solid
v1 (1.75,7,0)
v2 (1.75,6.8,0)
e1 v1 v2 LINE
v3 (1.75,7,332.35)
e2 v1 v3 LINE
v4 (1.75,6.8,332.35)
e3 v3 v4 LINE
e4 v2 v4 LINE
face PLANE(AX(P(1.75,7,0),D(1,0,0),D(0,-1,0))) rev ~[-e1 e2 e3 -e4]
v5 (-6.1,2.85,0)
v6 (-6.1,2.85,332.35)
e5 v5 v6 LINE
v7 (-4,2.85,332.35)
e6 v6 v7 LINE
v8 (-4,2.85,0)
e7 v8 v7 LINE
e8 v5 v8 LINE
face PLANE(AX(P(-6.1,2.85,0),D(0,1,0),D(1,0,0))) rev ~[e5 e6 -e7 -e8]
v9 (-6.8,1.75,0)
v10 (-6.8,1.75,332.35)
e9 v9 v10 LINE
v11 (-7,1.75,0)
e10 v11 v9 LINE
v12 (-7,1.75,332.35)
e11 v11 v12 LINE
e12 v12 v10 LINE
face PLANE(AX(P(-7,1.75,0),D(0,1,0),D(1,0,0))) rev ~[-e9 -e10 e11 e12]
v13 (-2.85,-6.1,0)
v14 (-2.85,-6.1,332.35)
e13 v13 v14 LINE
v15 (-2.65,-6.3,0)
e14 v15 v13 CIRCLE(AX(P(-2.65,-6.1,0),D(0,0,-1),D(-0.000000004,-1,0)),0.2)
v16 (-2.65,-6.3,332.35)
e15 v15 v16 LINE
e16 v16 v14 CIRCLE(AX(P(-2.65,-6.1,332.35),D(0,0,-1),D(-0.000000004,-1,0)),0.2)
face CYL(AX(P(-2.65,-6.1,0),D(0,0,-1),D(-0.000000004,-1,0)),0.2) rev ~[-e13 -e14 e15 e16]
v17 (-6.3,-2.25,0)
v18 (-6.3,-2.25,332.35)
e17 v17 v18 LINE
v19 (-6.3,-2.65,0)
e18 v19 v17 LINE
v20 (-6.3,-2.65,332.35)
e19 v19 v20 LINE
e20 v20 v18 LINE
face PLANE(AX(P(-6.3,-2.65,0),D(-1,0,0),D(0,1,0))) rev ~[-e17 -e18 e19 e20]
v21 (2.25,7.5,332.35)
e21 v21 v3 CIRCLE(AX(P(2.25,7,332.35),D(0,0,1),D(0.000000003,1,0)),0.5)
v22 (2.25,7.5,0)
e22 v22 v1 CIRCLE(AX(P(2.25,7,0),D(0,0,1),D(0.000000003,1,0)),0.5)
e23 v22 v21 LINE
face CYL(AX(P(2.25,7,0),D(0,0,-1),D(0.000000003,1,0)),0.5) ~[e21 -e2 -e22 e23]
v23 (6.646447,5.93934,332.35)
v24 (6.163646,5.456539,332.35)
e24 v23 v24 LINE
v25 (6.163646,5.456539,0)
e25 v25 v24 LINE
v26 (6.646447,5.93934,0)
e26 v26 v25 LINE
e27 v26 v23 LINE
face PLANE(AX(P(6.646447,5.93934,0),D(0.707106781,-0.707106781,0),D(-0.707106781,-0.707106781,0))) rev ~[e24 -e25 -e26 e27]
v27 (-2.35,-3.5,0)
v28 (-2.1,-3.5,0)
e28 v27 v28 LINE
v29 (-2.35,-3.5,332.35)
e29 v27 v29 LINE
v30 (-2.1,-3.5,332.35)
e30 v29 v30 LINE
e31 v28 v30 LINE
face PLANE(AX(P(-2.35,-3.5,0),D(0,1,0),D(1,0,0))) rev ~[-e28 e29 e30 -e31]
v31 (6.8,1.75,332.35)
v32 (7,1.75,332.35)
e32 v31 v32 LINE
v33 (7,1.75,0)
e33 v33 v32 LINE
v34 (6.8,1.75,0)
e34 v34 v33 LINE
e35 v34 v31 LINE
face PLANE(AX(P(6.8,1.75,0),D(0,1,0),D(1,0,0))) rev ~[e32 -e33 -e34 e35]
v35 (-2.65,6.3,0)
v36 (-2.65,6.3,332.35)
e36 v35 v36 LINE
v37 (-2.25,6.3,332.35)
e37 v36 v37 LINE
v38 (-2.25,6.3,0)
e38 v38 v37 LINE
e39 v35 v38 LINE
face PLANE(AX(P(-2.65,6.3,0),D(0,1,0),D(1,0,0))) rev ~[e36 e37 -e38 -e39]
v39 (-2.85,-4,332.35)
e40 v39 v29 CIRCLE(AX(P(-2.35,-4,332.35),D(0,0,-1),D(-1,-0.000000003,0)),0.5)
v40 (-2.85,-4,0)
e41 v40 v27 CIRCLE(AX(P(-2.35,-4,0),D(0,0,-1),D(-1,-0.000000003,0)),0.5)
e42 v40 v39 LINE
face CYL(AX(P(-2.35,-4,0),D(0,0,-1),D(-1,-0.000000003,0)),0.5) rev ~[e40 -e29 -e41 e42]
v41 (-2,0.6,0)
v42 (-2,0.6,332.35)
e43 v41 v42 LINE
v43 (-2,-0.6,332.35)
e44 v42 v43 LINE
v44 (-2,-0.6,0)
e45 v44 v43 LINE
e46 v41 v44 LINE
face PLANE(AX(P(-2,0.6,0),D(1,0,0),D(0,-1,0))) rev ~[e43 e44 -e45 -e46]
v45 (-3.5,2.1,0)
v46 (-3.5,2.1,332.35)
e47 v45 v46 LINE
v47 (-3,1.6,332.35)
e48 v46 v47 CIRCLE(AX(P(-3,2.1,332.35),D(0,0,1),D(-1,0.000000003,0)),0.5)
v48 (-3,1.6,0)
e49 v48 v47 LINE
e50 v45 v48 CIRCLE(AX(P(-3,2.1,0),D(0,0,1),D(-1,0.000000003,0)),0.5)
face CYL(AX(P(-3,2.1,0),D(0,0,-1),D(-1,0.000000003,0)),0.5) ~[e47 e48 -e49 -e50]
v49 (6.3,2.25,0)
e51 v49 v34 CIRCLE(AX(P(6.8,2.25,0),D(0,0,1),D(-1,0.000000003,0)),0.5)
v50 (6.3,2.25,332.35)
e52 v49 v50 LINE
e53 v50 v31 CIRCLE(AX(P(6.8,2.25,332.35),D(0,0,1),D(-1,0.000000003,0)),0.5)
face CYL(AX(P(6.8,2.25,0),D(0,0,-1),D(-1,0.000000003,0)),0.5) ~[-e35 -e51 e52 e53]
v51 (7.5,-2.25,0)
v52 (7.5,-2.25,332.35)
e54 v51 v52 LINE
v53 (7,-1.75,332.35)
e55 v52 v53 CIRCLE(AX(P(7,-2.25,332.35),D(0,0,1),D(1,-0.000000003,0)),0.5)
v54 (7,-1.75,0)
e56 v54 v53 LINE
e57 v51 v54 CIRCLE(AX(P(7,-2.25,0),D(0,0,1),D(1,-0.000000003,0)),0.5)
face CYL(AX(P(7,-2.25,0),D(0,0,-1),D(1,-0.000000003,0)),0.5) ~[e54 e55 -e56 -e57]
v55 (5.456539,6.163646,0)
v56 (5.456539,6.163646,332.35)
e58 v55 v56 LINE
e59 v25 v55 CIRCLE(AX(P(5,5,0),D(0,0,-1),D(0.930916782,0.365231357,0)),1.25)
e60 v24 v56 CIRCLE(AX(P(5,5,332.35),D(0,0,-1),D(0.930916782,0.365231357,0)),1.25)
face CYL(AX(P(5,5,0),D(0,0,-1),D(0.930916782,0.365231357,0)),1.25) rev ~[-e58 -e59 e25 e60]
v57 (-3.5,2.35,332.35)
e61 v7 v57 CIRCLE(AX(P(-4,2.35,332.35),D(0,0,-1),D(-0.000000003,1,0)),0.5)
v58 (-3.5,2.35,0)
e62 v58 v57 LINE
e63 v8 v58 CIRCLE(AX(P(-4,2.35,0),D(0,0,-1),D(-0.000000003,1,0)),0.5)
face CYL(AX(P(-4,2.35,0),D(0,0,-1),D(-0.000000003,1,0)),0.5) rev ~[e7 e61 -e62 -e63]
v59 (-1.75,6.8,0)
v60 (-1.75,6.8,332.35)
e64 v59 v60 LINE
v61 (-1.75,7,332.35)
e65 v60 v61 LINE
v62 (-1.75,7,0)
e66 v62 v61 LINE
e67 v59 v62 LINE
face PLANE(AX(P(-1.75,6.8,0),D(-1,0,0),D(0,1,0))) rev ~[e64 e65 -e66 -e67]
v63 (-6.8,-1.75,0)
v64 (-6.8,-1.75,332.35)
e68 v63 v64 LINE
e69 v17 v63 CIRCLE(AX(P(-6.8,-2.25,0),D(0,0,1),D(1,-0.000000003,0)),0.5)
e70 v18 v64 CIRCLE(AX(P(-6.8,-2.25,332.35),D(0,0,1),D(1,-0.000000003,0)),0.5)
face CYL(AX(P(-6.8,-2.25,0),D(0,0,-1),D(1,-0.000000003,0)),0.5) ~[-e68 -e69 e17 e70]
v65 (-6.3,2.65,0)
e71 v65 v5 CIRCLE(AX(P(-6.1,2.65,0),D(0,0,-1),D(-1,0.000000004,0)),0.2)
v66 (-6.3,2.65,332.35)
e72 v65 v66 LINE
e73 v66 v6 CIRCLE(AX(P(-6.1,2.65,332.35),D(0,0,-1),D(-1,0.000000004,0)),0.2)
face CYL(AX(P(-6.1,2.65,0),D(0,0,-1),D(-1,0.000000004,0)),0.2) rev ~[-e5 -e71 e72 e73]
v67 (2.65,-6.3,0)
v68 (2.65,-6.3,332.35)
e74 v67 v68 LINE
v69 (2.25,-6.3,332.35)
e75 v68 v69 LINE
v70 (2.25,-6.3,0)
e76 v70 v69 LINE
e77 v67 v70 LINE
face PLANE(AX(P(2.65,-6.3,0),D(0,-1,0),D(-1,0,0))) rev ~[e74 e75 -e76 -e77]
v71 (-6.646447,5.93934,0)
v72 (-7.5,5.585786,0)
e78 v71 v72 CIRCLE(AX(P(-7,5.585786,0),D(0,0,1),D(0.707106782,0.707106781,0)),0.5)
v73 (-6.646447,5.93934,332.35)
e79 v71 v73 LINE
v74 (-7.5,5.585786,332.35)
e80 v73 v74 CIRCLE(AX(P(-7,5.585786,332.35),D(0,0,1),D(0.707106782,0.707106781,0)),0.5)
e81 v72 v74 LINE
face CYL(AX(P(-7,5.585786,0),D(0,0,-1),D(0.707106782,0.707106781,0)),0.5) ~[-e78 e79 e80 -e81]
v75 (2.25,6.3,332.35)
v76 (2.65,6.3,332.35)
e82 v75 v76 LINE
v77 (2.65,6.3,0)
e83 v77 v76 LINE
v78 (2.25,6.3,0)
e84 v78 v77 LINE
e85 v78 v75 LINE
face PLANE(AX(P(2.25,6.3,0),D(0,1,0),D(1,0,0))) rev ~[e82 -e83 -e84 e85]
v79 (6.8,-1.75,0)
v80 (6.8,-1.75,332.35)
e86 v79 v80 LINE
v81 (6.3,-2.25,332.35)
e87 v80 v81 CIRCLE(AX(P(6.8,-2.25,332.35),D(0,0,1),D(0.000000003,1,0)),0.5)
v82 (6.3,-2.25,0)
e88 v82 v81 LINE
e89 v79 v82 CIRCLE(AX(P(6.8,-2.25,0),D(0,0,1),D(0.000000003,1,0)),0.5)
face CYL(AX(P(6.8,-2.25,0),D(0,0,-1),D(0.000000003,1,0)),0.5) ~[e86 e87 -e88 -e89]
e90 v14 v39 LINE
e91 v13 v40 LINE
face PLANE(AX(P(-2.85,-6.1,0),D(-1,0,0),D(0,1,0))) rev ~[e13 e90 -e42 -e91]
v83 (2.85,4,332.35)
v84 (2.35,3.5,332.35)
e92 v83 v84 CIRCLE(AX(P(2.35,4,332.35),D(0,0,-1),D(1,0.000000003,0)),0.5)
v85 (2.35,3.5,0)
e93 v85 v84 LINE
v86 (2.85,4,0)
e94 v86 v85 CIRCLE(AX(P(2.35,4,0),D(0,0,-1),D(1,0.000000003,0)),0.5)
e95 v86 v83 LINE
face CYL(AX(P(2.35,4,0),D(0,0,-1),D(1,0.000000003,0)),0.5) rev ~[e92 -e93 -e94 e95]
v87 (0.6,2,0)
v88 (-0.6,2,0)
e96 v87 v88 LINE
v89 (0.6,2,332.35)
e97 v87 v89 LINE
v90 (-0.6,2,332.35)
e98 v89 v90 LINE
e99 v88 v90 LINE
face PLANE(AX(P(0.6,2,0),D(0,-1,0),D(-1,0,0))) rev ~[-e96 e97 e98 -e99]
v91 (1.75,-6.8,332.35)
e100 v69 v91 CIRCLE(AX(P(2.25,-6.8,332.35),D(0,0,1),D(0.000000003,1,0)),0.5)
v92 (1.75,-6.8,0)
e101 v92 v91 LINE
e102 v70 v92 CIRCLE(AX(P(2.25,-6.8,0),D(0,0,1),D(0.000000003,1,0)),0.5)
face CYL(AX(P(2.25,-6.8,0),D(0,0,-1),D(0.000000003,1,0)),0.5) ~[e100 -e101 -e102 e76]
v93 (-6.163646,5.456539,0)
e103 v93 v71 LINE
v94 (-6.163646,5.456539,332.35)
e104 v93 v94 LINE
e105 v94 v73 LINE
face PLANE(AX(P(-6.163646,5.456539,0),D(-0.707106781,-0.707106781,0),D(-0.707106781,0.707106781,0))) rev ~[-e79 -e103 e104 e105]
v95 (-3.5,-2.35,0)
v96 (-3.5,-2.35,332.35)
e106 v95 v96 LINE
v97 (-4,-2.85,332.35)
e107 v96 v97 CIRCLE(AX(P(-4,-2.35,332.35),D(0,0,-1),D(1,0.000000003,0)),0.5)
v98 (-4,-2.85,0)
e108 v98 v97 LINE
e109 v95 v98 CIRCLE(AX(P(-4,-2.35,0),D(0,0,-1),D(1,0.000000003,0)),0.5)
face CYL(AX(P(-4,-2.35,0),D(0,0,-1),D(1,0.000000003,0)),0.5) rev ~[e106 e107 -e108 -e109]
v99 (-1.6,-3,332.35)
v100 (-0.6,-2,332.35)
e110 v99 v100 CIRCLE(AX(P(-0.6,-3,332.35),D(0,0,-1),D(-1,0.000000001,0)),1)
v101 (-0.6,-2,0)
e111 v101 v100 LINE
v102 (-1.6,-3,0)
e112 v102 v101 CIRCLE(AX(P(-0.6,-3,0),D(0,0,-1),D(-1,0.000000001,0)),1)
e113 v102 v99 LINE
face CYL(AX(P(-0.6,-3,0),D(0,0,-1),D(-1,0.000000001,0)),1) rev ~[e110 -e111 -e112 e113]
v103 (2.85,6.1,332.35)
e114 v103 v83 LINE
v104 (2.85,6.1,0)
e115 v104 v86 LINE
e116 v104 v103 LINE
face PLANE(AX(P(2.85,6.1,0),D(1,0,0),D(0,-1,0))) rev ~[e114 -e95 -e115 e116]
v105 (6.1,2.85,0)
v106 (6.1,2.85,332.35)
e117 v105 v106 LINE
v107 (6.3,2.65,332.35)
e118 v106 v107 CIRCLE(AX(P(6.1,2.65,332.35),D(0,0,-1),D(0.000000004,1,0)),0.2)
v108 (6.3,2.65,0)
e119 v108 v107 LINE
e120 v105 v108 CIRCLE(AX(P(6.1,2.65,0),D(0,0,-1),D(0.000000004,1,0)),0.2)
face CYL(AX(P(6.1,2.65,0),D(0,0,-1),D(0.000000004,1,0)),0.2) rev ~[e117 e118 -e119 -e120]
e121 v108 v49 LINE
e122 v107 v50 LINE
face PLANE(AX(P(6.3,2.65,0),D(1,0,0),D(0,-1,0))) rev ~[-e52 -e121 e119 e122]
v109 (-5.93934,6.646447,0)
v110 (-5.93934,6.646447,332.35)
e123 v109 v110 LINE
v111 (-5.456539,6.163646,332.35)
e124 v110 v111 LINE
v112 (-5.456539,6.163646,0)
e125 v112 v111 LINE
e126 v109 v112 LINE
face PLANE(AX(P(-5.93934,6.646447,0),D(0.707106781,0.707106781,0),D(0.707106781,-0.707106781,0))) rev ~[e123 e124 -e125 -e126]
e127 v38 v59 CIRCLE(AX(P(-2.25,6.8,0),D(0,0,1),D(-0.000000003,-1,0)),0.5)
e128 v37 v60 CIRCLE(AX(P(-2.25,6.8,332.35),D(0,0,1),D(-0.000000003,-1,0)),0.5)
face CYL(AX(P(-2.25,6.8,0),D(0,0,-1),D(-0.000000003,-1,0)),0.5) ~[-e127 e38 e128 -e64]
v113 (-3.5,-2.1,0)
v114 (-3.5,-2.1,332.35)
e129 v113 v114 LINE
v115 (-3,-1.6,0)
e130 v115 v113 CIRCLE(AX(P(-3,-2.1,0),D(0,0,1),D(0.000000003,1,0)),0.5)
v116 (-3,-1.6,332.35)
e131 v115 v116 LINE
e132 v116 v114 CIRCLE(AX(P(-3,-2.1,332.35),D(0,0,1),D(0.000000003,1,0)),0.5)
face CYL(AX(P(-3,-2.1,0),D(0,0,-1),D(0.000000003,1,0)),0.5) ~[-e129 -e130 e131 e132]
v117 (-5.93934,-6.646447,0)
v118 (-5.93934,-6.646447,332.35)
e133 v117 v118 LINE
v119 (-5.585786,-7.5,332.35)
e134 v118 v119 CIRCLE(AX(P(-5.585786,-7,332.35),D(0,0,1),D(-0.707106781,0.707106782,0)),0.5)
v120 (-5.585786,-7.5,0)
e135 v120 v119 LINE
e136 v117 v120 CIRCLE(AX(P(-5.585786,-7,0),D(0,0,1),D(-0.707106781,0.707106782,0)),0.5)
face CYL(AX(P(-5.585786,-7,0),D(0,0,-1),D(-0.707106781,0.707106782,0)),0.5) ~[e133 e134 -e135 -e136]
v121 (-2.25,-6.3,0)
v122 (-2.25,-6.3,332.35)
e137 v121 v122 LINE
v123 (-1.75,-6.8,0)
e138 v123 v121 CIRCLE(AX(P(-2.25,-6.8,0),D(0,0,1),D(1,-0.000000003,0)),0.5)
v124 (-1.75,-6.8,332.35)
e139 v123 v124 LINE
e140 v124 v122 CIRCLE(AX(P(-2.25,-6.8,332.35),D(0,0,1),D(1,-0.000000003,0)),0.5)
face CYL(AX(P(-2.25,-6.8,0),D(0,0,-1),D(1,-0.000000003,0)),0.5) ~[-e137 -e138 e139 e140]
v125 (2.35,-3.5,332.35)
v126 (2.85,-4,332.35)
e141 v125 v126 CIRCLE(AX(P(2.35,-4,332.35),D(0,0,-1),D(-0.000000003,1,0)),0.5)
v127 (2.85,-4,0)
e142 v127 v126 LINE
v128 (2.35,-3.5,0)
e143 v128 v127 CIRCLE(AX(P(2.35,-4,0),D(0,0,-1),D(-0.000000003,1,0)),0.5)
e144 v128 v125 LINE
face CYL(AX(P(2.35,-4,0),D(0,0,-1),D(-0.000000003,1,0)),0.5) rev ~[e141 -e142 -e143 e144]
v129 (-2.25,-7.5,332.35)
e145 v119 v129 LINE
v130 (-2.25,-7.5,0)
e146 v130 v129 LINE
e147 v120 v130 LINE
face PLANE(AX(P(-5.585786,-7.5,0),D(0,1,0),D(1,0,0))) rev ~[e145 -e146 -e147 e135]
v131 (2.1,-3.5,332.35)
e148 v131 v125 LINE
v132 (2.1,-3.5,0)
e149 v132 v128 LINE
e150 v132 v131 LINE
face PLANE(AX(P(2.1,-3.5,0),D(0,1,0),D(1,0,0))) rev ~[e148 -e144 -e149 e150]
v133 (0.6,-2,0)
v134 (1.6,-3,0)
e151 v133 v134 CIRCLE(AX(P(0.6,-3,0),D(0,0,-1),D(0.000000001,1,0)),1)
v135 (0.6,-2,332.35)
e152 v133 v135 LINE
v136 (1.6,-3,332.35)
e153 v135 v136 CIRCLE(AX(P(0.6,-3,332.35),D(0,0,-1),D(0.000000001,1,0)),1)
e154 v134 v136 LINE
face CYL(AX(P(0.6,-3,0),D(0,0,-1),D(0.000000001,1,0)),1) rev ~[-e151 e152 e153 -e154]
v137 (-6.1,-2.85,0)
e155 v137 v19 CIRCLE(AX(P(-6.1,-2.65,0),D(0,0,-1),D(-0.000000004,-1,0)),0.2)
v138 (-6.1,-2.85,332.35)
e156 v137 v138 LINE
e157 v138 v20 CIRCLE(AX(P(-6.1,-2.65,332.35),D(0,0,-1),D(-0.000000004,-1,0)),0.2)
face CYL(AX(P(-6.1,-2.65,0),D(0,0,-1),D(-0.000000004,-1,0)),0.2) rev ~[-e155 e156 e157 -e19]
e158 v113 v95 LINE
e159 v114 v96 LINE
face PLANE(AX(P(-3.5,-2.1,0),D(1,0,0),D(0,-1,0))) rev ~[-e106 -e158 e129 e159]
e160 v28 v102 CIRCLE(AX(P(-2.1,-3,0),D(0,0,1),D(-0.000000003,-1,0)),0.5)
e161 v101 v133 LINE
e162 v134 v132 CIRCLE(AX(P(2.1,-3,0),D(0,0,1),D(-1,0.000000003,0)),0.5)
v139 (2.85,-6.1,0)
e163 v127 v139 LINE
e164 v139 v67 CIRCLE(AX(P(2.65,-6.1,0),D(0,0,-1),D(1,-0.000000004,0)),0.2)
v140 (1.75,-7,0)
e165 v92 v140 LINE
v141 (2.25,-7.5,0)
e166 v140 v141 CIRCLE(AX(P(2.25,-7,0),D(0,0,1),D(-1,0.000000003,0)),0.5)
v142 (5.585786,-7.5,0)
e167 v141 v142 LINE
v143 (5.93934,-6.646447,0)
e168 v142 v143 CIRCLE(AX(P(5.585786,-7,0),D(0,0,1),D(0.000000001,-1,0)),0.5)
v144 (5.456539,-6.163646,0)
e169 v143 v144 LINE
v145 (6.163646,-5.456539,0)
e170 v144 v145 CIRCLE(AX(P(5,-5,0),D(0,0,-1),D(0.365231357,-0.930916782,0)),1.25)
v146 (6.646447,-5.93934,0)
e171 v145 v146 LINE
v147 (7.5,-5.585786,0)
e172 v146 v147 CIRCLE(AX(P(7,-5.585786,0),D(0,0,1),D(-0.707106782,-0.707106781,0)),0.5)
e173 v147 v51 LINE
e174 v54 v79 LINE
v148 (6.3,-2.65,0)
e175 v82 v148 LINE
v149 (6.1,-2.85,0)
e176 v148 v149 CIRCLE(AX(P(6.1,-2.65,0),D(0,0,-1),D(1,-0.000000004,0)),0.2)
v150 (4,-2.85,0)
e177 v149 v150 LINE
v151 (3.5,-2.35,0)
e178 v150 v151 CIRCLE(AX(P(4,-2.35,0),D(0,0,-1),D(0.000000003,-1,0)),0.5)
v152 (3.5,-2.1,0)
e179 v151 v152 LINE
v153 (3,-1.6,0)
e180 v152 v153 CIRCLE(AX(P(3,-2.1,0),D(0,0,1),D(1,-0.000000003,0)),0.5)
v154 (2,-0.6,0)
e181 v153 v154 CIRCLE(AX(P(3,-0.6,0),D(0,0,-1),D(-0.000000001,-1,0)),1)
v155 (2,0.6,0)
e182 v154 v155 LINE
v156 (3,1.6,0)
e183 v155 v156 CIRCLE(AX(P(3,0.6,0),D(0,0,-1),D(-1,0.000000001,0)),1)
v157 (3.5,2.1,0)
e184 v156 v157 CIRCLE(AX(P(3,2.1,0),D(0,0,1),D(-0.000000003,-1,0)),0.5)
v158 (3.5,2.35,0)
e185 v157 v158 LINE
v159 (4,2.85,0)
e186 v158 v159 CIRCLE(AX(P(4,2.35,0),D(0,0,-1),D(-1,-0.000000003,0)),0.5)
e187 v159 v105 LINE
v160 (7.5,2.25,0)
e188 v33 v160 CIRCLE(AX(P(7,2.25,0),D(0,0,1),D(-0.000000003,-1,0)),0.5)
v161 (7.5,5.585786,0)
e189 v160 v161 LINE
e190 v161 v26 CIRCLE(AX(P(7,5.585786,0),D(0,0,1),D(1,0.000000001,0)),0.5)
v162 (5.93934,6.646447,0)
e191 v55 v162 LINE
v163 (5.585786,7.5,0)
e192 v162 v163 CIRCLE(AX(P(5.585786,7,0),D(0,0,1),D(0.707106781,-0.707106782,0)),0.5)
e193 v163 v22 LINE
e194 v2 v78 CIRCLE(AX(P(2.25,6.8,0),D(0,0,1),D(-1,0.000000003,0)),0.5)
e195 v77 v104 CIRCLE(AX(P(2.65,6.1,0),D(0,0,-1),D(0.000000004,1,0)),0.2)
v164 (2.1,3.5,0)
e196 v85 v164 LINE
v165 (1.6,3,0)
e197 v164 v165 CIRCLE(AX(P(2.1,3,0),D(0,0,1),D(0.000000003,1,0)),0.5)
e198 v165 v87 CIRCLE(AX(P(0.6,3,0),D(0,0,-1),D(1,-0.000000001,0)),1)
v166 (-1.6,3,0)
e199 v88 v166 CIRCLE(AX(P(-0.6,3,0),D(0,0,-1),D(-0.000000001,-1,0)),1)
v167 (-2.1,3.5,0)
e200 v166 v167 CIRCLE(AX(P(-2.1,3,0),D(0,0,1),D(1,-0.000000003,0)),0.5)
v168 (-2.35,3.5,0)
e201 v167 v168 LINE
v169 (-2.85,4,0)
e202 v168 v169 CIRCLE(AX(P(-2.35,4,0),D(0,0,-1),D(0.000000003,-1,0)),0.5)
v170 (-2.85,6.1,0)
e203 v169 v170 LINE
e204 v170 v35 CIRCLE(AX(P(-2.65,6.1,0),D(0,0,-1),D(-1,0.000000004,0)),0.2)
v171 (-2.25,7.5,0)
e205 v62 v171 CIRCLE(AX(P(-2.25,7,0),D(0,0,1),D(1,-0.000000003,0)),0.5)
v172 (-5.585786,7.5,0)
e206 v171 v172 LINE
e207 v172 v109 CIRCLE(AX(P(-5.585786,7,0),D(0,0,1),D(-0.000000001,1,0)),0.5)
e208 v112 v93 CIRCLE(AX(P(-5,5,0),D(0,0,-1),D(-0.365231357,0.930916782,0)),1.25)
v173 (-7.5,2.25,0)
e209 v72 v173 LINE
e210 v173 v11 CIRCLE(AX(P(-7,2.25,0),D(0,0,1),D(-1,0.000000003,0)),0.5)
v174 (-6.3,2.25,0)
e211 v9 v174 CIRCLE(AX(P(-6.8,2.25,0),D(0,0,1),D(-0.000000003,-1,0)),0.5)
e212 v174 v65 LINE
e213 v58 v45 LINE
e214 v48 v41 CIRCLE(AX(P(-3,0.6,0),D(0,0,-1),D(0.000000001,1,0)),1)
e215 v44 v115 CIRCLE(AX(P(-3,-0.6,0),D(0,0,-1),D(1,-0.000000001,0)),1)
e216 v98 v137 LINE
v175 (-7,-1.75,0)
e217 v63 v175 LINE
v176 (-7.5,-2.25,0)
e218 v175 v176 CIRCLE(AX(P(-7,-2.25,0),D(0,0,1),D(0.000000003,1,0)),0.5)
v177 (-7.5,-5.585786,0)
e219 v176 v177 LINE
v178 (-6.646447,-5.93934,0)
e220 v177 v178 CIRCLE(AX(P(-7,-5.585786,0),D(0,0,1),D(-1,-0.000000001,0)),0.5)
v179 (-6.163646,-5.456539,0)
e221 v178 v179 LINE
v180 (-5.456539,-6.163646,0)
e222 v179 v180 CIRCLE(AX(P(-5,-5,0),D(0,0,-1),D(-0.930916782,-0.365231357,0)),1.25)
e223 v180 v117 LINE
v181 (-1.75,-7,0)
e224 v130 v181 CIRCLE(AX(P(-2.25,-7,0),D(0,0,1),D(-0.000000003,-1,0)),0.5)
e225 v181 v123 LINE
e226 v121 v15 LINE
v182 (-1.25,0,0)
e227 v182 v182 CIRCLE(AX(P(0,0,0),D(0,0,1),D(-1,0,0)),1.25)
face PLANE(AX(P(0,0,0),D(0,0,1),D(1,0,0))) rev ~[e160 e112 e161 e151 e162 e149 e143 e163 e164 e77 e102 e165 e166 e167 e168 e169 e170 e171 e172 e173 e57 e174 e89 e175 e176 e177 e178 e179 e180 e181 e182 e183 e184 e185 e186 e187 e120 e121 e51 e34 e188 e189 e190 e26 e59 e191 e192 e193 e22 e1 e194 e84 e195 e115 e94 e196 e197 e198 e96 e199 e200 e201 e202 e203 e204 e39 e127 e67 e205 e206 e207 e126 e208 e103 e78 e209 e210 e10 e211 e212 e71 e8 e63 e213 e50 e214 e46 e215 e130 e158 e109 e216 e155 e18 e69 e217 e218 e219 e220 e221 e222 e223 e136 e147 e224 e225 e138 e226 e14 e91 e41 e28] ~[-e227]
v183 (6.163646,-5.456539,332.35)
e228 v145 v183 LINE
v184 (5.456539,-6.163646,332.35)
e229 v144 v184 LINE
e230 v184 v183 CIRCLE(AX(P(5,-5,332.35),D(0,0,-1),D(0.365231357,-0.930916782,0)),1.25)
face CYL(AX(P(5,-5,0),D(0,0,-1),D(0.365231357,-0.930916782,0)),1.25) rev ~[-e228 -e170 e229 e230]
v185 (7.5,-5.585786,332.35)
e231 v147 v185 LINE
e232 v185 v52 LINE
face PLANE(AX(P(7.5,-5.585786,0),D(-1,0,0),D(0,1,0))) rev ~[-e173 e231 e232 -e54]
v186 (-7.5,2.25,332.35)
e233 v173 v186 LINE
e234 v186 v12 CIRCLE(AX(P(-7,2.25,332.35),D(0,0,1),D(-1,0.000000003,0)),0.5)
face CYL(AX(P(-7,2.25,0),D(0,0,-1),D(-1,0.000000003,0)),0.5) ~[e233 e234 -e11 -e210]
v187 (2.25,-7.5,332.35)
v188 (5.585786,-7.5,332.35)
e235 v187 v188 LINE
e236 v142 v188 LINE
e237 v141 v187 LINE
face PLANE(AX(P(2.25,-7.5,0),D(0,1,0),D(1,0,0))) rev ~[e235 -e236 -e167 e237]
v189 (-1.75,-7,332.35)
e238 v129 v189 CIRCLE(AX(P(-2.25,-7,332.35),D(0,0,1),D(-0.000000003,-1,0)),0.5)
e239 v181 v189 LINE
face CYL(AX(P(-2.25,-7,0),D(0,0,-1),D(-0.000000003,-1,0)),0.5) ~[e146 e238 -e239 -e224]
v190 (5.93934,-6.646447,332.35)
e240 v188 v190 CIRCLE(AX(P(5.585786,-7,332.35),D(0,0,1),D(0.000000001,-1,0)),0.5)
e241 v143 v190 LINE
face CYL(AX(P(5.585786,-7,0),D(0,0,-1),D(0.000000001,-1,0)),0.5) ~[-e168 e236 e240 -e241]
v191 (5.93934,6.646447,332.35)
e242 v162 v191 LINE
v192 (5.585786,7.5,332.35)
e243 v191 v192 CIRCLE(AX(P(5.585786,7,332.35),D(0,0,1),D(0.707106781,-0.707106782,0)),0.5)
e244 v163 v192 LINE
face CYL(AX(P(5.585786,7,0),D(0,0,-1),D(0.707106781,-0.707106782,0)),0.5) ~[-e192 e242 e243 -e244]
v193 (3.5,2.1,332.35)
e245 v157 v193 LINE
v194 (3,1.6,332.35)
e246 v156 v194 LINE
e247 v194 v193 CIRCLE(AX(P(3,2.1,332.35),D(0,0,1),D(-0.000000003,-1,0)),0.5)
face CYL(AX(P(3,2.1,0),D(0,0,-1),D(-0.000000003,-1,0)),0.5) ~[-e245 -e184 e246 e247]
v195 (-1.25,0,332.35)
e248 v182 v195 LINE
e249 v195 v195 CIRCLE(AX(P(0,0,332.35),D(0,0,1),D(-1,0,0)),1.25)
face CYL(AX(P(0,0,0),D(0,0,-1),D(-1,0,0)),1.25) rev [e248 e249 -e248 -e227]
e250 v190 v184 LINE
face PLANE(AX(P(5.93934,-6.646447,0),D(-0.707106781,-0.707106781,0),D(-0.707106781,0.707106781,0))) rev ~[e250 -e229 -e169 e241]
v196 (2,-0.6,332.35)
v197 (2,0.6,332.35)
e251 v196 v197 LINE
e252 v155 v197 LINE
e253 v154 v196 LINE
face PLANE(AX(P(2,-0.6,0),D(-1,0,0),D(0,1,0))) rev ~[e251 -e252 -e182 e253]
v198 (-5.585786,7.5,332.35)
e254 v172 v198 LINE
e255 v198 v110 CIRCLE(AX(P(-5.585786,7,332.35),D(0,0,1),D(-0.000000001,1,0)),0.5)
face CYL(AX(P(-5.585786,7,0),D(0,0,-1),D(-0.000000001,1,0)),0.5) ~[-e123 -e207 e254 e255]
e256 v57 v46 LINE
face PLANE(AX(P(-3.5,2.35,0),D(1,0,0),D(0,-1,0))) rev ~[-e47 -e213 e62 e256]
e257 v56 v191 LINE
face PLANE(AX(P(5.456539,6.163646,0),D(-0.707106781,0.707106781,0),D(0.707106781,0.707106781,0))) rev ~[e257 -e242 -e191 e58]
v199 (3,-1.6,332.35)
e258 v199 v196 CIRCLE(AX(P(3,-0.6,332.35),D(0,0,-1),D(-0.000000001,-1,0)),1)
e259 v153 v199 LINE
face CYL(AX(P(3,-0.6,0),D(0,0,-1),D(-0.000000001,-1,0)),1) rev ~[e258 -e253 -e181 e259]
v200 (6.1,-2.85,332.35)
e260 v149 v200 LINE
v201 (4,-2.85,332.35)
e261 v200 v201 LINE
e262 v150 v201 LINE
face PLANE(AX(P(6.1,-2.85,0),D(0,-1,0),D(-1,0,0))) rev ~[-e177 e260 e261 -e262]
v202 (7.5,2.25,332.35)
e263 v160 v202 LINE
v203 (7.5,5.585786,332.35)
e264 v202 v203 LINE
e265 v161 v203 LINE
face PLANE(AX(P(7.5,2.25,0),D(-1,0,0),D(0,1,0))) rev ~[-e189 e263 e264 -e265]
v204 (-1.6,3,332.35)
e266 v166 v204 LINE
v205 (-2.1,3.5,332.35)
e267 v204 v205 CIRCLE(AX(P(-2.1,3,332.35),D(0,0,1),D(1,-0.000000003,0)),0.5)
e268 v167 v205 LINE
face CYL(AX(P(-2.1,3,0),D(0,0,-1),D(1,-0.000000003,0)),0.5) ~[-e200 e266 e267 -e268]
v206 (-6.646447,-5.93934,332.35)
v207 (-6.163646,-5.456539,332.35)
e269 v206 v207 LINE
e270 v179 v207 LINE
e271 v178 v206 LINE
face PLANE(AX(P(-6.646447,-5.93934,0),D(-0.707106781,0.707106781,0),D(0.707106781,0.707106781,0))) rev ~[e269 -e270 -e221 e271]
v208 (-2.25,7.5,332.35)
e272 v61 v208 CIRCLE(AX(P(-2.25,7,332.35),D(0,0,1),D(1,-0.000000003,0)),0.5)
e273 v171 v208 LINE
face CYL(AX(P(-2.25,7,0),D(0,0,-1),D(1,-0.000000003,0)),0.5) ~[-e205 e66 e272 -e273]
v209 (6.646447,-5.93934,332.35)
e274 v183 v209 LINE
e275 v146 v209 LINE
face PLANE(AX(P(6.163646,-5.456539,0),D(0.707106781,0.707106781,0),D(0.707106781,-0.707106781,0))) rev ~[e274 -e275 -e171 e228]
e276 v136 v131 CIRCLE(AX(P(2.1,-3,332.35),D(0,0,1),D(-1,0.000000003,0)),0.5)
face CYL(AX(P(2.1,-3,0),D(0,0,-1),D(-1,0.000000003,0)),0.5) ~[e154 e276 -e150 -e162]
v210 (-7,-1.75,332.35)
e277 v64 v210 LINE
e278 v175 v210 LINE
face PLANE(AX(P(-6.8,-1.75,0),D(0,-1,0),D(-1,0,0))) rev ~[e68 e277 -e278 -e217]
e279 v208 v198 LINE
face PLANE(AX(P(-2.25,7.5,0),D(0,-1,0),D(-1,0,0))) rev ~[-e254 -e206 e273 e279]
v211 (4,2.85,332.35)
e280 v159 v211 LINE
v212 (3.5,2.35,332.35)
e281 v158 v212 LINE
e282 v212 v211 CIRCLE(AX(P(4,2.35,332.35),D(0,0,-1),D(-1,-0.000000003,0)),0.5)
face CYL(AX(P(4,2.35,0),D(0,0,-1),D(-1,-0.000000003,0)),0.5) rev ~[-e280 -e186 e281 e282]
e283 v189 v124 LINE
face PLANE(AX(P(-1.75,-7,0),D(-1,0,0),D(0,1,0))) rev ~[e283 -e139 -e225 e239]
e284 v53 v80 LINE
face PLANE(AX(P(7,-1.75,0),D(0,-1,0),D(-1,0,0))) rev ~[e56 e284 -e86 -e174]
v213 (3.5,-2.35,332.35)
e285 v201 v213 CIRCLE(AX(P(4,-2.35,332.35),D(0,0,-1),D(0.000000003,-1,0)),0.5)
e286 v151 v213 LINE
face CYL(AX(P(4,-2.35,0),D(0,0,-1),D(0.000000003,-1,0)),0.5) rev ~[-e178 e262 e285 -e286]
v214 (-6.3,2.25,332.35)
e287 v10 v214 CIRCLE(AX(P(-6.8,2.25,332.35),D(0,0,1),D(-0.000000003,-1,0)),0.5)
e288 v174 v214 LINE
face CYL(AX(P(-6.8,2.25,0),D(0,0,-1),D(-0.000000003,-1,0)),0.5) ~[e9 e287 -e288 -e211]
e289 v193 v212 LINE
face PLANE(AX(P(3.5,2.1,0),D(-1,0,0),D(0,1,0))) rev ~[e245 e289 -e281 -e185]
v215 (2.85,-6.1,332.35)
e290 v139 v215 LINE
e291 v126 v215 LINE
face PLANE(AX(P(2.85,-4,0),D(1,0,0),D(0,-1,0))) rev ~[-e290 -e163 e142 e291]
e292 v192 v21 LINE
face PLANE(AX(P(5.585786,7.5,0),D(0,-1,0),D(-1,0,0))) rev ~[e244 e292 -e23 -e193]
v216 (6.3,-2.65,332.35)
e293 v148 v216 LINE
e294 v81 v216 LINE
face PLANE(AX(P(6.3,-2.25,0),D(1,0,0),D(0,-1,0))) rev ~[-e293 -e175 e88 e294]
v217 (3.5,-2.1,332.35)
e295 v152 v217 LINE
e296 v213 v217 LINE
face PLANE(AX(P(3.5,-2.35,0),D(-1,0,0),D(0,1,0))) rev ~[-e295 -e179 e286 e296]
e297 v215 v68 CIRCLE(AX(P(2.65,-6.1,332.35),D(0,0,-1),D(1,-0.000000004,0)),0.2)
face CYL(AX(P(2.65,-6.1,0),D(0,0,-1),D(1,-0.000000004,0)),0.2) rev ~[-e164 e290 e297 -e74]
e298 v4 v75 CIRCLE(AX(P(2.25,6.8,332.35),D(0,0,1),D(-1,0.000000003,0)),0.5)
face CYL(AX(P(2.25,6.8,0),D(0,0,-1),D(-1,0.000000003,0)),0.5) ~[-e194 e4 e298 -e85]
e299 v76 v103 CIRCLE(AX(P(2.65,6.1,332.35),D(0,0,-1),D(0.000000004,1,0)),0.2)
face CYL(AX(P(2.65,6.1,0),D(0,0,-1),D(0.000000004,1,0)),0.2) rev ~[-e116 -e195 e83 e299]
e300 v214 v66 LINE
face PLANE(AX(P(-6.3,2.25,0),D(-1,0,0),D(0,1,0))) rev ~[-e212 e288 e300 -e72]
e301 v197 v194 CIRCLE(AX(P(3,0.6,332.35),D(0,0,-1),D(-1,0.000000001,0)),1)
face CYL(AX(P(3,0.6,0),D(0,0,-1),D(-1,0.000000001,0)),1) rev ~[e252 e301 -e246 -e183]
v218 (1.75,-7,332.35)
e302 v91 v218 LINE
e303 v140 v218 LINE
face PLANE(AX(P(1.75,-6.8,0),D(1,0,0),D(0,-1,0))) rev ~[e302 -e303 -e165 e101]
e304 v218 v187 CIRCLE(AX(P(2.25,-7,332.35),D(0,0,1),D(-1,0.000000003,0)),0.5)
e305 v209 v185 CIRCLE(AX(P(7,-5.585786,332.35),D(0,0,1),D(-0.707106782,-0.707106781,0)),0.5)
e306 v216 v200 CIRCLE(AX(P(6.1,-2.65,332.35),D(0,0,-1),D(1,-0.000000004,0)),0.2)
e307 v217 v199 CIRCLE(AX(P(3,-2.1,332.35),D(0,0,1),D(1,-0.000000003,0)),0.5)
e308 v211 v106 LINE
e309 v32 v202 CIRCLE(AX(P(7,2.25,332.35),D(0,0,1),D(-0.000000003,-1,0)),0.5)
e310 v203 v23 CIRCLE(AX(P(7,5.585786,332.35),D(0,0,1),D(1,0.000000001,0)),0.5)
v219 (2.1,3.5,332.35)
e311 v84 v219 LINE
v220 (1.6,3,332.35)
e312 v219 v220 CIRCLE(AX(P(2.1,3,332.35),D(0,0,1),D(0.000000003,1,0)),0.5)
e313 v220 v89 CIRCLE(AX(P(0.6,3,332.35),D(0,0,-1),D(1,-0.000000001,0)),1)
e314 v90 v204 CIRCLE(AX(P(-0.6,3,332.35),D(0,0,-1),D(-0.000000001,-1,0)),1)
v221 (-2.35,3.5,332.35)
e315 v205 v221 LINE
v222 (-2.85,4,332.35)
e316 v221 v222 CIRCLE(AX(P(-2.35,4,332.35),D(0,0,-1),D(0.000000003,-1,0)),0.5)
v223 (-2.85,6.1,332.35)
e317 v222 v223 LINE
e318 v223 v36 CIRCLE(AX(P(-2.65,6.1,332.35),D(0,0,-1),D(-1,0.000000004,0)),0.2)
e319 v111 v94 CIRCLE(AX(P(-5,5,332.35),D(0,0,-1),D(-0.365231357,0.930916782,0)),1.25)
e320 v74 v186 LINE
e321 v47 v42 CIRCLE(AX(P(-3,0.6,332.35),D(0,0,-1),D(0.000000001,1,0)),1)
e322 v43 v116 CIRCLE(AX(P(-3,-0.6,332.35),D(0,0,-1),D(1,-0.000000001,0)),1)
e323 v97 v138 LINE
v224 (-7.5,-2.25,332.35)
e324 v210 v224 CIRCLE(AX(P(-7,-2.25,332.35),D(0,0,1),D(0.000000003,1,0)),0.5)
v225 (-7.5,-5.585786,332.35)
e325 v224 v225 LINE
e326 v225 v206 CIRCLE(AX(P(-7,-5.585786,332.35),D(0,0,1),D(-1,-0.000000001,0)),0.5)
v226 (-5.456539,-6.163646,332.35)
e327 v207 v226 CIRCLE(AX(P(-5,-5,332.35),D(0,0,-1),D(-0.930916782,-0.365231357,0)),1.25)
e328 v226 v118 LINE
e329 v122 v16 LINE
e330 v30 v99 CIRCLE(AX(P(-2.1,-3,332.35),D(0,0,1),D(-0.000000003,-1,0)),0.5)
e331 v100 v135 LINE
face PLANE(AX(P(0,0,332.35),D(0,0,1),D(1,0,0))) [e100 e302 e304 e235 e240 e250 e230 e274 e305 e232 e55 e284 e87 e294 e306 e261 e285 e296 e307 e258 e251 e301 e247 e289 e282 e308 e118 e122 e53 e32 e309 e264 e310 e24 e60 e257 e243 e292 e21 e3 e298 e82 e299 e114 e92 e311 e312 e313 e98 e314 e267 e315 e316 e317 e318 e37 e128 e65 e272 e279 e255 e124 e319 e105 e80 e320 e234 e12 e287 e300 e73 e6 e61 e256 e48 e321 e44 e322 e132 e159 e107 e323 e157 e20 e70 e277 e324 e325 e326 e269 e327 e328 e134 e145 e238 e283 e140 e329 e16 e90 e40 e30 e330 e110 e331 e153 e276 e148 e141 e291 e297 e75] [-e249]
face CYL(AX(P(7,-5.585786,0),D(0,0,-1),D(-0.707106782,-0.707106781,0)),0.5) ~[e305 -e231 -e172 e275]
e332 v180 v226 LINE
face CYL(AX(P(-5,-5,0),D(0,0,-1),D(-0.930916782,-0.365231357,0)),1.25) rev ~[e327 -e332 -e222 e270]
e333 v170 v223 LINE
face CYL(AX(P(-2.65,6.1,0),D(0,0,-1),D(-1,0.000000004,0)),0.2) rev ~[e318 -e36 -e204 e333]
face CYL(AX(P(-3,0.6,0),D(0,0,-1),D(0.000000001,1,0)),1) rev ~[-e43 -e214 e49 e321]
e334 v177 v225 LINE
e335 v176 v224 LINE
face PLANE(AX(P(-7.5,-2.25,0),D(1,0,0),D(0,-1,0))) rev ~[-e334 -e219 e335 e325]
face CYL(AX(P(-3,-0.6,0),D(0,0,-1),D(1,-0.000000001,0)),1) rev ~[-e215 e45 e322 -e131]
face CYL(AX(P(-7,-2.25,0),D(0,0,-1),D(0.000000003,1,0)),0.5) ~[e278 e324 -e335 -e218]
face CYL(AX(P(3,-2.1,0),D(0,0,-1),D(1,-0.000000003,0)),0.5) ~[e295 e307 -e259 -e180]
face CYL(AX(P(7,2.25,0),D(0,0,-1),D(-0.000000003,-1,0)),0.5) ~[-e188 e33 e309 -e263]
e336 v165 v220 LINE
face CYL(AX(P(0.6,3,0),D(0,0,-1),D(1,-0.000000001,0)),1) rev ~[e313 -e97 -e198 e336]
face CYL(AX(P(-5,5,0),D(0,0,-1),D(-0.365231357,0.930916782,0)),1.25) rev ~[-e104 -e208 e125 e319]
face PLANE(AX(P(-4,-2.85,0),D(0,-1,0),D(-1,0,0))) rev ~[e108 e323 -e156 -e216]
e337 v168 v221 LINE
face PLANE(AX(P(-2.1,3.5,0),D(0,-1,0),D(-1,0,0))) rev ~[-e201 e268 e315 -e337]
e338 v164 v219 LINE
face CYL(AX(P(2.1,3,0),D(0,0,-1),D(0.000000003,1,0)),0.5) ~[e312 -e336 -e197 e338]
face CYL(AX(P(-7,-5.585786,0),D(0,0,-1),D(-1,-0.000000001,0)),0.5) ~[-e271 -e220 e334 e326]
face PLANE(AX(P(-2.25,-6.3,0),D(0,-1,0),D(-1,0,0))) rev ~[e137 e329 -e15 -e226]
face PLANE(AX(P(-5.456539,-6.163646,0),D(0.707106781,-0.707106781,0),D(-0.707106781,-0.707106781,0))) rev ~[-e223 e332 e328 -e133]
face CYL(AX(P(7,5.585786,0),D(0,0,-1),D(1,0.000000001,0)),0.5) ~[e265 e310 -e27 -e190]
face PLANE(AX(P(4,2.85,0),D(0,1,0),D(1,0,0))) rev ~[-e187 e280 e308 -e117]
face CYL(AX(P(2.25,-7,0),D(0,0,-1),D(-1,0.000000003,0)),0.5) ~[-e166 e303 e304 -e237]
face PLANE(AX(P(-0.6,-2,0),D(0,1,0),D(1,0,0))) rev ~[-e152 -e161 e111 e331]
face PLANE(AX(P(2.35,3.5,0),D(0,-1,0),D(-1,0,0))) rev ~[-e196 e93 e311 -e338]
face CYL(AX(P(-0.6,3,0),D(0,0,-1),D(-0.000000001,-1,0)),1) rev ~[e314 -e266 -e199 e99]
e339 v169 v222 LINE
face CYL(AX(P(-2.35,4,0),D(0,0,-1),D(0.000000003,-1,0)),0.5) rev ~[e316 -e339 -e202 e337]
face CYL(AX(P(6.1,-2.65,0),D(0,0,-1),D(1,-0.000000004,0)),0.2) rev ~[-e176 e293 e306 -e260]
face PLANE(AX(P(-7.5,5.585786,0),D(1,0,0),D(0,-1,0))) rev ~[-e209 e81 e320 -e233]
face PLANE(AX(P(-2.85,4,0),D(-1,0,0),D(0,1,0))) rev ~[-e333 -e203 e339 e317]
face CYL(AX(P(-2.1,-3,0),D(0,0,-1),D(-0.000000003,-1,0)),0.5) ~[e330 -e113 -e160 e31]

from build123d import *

# Parameters (mm, degrees)
SKETCH1_R           = 1.25
BOSS_EXTRUDE1_DEPTH = 332.35


with BuildPart() as part:
    # Sketch1 → Boss-Extrude1 (new body)
    with BuildSketch(Plane.XY):
        with BuildLine():
            Line((6.646446609, 5.939339828), (6.163645978, 5.456539197))
            ThreePointArc((6.163645978, 5.456539197), (4.116116524, 4.116116524), (5.456539197, 6.163645978))
            Line((5.456539197, 6.163645978), (5.939339828, 6.646446609))
            ThreePointArc((5.939339828, 6.646446609), (6.047726204, 7.191341716), (5.585786438, 7.5))
            Line((5.585786438, 7.5), (2.25, 7.5))
            ThreePointArc((2.25, 7.5), (1.896446609, 7.353553391), (1.75, 7))
            Line((1.75, 7), (1.75, 6.8))
            ThreePointArc((1.75, 6.8), (1.896446609, 6.446446609), (2.25, 6.3))
            Line((2.25, 6.3), (2.65, 6.3))
            ThreePointArc((2.65, 6.3), (2.791421356, 6.241421356), (2.85, 6.1))
            Line((2.85, 6.1), (2.85, 4))
            ThreePointArc((2.85, 4), (2.703553391, 3.646446609), (2.35, 3.5))
            Line((2.35, 3.5), (2.1, 3.5))
            ThreePointArc((2.1, 3.5), (1.746446609, 3.353553391), (1.6, 3))
            ThreePointArc((1.6, 3), (1.307106781, 2.292893219), (0.6, 2))
            Line((0.6, 2), (-0.6, 2))
            ThreePointArc((-0.6, 2), (-1.307106781, 2.292893219), (-1.6, 3))
            ThreePointArc((-1.6, 3), (-1.746446609, 3.353553391), (-2.1, 3.5))
            Line((-2.1, 3.5), (-2.35, 3.5))
            ThreePointArc((-2.35, 3.5), (-2.703553391, 3.646446609), (-2.85, 4))
            Line((-2.85, 4), (-2.85, 6.1))
            ThreePointArc((-2.85, 6.1), (-2.791421356, 6.241421356), (-2.65, 6.3))
            Line((-2.65, 6.3), (-2.25, 6.3))
            ThreePointArc((-2.25, 6.3), (-1.896446609, 6.446446609), (-1.75, 6.8))
            Line((-1.75, 6.8), (-1.75, 7))
            ThreePointArc((-1.75, 7), (-1.896446609, 7.353553391), (-2.25, 7.5))
            Line((-2.25, 7.5), (-5.585786438, 7.5))
            ThreePointArc((-5.585786438, 7.5), (-6.047726204, 7.191341716), (-5.939339828, 6.646446609))
            Line((-5.939339828, 6.646446609), (-5.456539197, 6.163645978))
            ThreePointArc((-5.456539197, 6.163645978), (-4.116116524, 4.116116524), (-6.163645978, 5.456539197))
            Line((-6.163645978, 5.456539197), (-6.646446609, 5.939339828))
            ThreePointArc((-6.646446609, 5.939339828), (-7.191341716, 6.047726204), (-7.5, 5.585786438))
            Line((-7.5, 5.585786438), (-7.5, 2.25))
            ThreePointArc((-7.5, 2.25), (-7.353553391, 1.896446609), (-7, 1.75))
            Line((-7, 1.75), (-6.8, 1.75))
            ThreePointArc((-6.8, 1.75), (-6.446446609, 1.896446609), (-6.3, 2.25))
            Line((-6.3, 2.25), (-6.3, 2.65))
            ThreePointArc((-6.3, 2.65), (-6.241421356, 2.791421356), (-6.1, 2.85))
            Line((-6.1, 2.85), (-4, 2.85))
            ThreePointArc((-4, 2.85), (-3.646446609, 2.703553391), (-3.5, 2.35))
            Line((-3.5, 2.35), (-3.5, 2.1))
            ThreePointArc((-3.5, 2.1), (-3.353553391, 1.746446609), (-3, 1.6))
            ThreePointArc((-3, 1.6), (-2.292893219, 1.307106781), (-2, 0.6))
            Line((-2, 0.6), (-2, -0.6))
            ThreePointArc((-2, -0.6), (-2.292893219, -1.307106781), (-3, -1.6))
            ThreePointArc((-3, -1.6), (-3.353553391, -1.746446609), (-3.5, -2.1))
            Line((-3.5, -2.1), (-3.5, -2.35))
            ThreePointArc((-3.5, -2.35), (-3.646446609, -2.703553391), (-4, -2.85))
            Line((-4, -2.85), (-6.1, -2.85))
            ThreePointArc((-6.1, -2.85), (-6.241421356, -2.791421356), (-6.3, -2.65))
            Line((-6.3, -2.65), (-6.3, -2.25))
            ThreePointArc((-6.3, -2.25), (-6.446446609, -1.896446609), (-6.8, -1.75))
            Line((-6.8, -1.75), (-7, -1.75))
            ThreePointArc((-7, -1.75), (-7.353553391, -1.896446609), (-7.5, -2.25))
            Line((-7.5, -2.25), (-7.5, -5.585786438))
            ThreePointArc((-7.5, -5.585786438), (-7.191341716, -6.047726204), (-6.646446609, -5.939339828))
            Line((-6.646446609, -5.939339828), (-6.163645978, -5.456539197))
            ThreePointArc((-6.163645978, -5.456539197), (-4.116116524, -4.116116524), (-5.456539197, -6.163645978))
            Line((-5.456539197, -6.163645978), (-5.939339828, -6.646446609))
            ThreePointArc((-5.939339828, -6.646446609), (-6.047726204, -7.191341716), (-5.585786438, -7.5))
            Line((-5.585786438, -7.5), (-2.25, -7.5))
            ThreePointArc((-2.25, -7.5), (-1.896446609, -7.353553391), (-1.75, -7))
            Line((-1.75, -7), (-1.75, -6.8))
            ThreePointArc((-1.75, -6.8), (-1.896446609, -6.446446609), (-2.25, -6.3))
            Line((-2.25, -6.3), (-2.65, -6.3))
            ThreePointArc((-2.65, -6.3), (-2.791421356, -6.241421356), (-2.85, -6.1))
            Line((-2.85, -6.1), (-2.85, -4))
            ThreePointArc((-2.85, -4), (-2.703553391, -3.646446609), (-2.35, -3.5))
            Line((-2.35, -3.5), (-2.1, -3.5))
            ThreePointArc((-2.1, -3.5), (-1.746446609, -3.353553391), (-1.6, -3))
            ThreePointArc((-1.6, -3), (-1.307106781, -2.292893219), (-0.6, -2))
            Line((-0.6, -2), (0.6, -2))
            ThreePointArc((0.6, -2), (1.307106781, -2.292893219), (1.6, -3))
            ThreePointArc((1.6, -3), (1.746446609, -3.353553391), (2.1, -3.5))
            Line((2.1, -3.5), (2.35, -3.5))
            ThreePointArc((2.35, -3.5), (2.703553391, -3.646446609), (2.85, -4))
            Line((2.85, -4), (2.85, -6.1))
            ThreePointArc((2.85, -6.1), (2.791421356, -6.241421356), (2.65, -6.3))
            Line((2.65, -6.3), (2.25, -6.3))
            ThreePointArc((2.25, -6.3), (1.896446609, -6.446446609), (1.75, -6.8))
            Line((1.75, -6.8), (1.75, -7))
            ThreePointArc((1.75, -7), (1.896446609, -7.353553391), (2.25, -7.5))
            Line((2.25, -7.5), (5.585786438, -7.5))
            ThreePointArc((5.585786438, -7.5), (6.047726204, -7.191341716), (5.939339828, -6.646446609))
            Line((5.939339828, -6.646446609), (5.456539197, -6.163645978))
            ThreePointArc((5.456539197, -6.163645978), (4.116116524, -4.116116524), (6.163645978, -5.456539197))
            Line((6.163645978, -5.456539197), (6.646446609, -5.939339828))
            ThreePointArc((6.646446609, -5.939339828), (7.191341716, -6.047726204), (7.5, -5.585786438))
            Line((7.5, -5.585786438), (7.5, -2.25))
            ThreePointArc((7.5, -2.25), (7.353553391, -1.896446609), (7, -1.75))
            Line((7, -1.75), (6.8, -1.75))
            ThreePointArc((6.8, -1.75), (6.446446609, -1.896446609), (6.3, -2.25))
            Line((6.3, -2.25), (6.3, -2.65))
            ThreePointArc((6.3, -2.65), (6.241421356, -2.791421356), (6.1, -2.85))
            Line((6.1, -2.85), (4, -2.85))
            ThreePointArc((4, -2.85), (3.646446609, -2.703553391), (3.5, -2.35))
            Line((3.5, -2.35), (3.5, -2.1))
            ThreePointArc((3.5, -2.1), (3.353553391, -1.746446609), (3, -1.6))
            ThreePointArc((3, -1.6), (2.292893219, -1.307106781), (2, -0.6))
            Line((2, -0.6), (2, 0.6))
            ThreePointArc((2, 0.6), (2.292893219, 1.307106781), (3, 1.6))
            ThreePointArc((3, 1.6), (3.353553391, 1.746446609), (3.5, 2.1))
            Line((3.5, 2.1), (3.5, 2.35))
            ThreePointArc((3.5, 2.35), (3.646446609, 2.703553391), (4, 2.85))
            Line((4, 2.85), (6.1, 2.85))
            ThreePointArc((6.1, 2.85), (6.241421356, 2.791421356), (6.3, 2.65))
            Line((6.3, 2.65), (6.3, 2.25))
            ThreePointArc((6.3, 2.25), (6.446446609, 1.896446609), (6.8, 1.75))
            Line((6.8, 1.75), (7, 1.75))
            ThreePointArc((7, 1.75), (7.353553391, 1.896446609), (7.5, 2.25))
            Line((7.5, 2.25), (7.5, 5.585786438))
            ThreePointArc((7.5, 5.585786438), (7.191341716, 6.047726204), (6.646446609, 5.939339828))
        make_face()
        with Locations(Location((0, 0, 0), (0, 0, 180))):
            Circle(SKETCH1_R, mode=Mode.SUBTRACT)
    extrude(amount=BOSS_EXTRUDE1_DEPTH)


solid = part.part
